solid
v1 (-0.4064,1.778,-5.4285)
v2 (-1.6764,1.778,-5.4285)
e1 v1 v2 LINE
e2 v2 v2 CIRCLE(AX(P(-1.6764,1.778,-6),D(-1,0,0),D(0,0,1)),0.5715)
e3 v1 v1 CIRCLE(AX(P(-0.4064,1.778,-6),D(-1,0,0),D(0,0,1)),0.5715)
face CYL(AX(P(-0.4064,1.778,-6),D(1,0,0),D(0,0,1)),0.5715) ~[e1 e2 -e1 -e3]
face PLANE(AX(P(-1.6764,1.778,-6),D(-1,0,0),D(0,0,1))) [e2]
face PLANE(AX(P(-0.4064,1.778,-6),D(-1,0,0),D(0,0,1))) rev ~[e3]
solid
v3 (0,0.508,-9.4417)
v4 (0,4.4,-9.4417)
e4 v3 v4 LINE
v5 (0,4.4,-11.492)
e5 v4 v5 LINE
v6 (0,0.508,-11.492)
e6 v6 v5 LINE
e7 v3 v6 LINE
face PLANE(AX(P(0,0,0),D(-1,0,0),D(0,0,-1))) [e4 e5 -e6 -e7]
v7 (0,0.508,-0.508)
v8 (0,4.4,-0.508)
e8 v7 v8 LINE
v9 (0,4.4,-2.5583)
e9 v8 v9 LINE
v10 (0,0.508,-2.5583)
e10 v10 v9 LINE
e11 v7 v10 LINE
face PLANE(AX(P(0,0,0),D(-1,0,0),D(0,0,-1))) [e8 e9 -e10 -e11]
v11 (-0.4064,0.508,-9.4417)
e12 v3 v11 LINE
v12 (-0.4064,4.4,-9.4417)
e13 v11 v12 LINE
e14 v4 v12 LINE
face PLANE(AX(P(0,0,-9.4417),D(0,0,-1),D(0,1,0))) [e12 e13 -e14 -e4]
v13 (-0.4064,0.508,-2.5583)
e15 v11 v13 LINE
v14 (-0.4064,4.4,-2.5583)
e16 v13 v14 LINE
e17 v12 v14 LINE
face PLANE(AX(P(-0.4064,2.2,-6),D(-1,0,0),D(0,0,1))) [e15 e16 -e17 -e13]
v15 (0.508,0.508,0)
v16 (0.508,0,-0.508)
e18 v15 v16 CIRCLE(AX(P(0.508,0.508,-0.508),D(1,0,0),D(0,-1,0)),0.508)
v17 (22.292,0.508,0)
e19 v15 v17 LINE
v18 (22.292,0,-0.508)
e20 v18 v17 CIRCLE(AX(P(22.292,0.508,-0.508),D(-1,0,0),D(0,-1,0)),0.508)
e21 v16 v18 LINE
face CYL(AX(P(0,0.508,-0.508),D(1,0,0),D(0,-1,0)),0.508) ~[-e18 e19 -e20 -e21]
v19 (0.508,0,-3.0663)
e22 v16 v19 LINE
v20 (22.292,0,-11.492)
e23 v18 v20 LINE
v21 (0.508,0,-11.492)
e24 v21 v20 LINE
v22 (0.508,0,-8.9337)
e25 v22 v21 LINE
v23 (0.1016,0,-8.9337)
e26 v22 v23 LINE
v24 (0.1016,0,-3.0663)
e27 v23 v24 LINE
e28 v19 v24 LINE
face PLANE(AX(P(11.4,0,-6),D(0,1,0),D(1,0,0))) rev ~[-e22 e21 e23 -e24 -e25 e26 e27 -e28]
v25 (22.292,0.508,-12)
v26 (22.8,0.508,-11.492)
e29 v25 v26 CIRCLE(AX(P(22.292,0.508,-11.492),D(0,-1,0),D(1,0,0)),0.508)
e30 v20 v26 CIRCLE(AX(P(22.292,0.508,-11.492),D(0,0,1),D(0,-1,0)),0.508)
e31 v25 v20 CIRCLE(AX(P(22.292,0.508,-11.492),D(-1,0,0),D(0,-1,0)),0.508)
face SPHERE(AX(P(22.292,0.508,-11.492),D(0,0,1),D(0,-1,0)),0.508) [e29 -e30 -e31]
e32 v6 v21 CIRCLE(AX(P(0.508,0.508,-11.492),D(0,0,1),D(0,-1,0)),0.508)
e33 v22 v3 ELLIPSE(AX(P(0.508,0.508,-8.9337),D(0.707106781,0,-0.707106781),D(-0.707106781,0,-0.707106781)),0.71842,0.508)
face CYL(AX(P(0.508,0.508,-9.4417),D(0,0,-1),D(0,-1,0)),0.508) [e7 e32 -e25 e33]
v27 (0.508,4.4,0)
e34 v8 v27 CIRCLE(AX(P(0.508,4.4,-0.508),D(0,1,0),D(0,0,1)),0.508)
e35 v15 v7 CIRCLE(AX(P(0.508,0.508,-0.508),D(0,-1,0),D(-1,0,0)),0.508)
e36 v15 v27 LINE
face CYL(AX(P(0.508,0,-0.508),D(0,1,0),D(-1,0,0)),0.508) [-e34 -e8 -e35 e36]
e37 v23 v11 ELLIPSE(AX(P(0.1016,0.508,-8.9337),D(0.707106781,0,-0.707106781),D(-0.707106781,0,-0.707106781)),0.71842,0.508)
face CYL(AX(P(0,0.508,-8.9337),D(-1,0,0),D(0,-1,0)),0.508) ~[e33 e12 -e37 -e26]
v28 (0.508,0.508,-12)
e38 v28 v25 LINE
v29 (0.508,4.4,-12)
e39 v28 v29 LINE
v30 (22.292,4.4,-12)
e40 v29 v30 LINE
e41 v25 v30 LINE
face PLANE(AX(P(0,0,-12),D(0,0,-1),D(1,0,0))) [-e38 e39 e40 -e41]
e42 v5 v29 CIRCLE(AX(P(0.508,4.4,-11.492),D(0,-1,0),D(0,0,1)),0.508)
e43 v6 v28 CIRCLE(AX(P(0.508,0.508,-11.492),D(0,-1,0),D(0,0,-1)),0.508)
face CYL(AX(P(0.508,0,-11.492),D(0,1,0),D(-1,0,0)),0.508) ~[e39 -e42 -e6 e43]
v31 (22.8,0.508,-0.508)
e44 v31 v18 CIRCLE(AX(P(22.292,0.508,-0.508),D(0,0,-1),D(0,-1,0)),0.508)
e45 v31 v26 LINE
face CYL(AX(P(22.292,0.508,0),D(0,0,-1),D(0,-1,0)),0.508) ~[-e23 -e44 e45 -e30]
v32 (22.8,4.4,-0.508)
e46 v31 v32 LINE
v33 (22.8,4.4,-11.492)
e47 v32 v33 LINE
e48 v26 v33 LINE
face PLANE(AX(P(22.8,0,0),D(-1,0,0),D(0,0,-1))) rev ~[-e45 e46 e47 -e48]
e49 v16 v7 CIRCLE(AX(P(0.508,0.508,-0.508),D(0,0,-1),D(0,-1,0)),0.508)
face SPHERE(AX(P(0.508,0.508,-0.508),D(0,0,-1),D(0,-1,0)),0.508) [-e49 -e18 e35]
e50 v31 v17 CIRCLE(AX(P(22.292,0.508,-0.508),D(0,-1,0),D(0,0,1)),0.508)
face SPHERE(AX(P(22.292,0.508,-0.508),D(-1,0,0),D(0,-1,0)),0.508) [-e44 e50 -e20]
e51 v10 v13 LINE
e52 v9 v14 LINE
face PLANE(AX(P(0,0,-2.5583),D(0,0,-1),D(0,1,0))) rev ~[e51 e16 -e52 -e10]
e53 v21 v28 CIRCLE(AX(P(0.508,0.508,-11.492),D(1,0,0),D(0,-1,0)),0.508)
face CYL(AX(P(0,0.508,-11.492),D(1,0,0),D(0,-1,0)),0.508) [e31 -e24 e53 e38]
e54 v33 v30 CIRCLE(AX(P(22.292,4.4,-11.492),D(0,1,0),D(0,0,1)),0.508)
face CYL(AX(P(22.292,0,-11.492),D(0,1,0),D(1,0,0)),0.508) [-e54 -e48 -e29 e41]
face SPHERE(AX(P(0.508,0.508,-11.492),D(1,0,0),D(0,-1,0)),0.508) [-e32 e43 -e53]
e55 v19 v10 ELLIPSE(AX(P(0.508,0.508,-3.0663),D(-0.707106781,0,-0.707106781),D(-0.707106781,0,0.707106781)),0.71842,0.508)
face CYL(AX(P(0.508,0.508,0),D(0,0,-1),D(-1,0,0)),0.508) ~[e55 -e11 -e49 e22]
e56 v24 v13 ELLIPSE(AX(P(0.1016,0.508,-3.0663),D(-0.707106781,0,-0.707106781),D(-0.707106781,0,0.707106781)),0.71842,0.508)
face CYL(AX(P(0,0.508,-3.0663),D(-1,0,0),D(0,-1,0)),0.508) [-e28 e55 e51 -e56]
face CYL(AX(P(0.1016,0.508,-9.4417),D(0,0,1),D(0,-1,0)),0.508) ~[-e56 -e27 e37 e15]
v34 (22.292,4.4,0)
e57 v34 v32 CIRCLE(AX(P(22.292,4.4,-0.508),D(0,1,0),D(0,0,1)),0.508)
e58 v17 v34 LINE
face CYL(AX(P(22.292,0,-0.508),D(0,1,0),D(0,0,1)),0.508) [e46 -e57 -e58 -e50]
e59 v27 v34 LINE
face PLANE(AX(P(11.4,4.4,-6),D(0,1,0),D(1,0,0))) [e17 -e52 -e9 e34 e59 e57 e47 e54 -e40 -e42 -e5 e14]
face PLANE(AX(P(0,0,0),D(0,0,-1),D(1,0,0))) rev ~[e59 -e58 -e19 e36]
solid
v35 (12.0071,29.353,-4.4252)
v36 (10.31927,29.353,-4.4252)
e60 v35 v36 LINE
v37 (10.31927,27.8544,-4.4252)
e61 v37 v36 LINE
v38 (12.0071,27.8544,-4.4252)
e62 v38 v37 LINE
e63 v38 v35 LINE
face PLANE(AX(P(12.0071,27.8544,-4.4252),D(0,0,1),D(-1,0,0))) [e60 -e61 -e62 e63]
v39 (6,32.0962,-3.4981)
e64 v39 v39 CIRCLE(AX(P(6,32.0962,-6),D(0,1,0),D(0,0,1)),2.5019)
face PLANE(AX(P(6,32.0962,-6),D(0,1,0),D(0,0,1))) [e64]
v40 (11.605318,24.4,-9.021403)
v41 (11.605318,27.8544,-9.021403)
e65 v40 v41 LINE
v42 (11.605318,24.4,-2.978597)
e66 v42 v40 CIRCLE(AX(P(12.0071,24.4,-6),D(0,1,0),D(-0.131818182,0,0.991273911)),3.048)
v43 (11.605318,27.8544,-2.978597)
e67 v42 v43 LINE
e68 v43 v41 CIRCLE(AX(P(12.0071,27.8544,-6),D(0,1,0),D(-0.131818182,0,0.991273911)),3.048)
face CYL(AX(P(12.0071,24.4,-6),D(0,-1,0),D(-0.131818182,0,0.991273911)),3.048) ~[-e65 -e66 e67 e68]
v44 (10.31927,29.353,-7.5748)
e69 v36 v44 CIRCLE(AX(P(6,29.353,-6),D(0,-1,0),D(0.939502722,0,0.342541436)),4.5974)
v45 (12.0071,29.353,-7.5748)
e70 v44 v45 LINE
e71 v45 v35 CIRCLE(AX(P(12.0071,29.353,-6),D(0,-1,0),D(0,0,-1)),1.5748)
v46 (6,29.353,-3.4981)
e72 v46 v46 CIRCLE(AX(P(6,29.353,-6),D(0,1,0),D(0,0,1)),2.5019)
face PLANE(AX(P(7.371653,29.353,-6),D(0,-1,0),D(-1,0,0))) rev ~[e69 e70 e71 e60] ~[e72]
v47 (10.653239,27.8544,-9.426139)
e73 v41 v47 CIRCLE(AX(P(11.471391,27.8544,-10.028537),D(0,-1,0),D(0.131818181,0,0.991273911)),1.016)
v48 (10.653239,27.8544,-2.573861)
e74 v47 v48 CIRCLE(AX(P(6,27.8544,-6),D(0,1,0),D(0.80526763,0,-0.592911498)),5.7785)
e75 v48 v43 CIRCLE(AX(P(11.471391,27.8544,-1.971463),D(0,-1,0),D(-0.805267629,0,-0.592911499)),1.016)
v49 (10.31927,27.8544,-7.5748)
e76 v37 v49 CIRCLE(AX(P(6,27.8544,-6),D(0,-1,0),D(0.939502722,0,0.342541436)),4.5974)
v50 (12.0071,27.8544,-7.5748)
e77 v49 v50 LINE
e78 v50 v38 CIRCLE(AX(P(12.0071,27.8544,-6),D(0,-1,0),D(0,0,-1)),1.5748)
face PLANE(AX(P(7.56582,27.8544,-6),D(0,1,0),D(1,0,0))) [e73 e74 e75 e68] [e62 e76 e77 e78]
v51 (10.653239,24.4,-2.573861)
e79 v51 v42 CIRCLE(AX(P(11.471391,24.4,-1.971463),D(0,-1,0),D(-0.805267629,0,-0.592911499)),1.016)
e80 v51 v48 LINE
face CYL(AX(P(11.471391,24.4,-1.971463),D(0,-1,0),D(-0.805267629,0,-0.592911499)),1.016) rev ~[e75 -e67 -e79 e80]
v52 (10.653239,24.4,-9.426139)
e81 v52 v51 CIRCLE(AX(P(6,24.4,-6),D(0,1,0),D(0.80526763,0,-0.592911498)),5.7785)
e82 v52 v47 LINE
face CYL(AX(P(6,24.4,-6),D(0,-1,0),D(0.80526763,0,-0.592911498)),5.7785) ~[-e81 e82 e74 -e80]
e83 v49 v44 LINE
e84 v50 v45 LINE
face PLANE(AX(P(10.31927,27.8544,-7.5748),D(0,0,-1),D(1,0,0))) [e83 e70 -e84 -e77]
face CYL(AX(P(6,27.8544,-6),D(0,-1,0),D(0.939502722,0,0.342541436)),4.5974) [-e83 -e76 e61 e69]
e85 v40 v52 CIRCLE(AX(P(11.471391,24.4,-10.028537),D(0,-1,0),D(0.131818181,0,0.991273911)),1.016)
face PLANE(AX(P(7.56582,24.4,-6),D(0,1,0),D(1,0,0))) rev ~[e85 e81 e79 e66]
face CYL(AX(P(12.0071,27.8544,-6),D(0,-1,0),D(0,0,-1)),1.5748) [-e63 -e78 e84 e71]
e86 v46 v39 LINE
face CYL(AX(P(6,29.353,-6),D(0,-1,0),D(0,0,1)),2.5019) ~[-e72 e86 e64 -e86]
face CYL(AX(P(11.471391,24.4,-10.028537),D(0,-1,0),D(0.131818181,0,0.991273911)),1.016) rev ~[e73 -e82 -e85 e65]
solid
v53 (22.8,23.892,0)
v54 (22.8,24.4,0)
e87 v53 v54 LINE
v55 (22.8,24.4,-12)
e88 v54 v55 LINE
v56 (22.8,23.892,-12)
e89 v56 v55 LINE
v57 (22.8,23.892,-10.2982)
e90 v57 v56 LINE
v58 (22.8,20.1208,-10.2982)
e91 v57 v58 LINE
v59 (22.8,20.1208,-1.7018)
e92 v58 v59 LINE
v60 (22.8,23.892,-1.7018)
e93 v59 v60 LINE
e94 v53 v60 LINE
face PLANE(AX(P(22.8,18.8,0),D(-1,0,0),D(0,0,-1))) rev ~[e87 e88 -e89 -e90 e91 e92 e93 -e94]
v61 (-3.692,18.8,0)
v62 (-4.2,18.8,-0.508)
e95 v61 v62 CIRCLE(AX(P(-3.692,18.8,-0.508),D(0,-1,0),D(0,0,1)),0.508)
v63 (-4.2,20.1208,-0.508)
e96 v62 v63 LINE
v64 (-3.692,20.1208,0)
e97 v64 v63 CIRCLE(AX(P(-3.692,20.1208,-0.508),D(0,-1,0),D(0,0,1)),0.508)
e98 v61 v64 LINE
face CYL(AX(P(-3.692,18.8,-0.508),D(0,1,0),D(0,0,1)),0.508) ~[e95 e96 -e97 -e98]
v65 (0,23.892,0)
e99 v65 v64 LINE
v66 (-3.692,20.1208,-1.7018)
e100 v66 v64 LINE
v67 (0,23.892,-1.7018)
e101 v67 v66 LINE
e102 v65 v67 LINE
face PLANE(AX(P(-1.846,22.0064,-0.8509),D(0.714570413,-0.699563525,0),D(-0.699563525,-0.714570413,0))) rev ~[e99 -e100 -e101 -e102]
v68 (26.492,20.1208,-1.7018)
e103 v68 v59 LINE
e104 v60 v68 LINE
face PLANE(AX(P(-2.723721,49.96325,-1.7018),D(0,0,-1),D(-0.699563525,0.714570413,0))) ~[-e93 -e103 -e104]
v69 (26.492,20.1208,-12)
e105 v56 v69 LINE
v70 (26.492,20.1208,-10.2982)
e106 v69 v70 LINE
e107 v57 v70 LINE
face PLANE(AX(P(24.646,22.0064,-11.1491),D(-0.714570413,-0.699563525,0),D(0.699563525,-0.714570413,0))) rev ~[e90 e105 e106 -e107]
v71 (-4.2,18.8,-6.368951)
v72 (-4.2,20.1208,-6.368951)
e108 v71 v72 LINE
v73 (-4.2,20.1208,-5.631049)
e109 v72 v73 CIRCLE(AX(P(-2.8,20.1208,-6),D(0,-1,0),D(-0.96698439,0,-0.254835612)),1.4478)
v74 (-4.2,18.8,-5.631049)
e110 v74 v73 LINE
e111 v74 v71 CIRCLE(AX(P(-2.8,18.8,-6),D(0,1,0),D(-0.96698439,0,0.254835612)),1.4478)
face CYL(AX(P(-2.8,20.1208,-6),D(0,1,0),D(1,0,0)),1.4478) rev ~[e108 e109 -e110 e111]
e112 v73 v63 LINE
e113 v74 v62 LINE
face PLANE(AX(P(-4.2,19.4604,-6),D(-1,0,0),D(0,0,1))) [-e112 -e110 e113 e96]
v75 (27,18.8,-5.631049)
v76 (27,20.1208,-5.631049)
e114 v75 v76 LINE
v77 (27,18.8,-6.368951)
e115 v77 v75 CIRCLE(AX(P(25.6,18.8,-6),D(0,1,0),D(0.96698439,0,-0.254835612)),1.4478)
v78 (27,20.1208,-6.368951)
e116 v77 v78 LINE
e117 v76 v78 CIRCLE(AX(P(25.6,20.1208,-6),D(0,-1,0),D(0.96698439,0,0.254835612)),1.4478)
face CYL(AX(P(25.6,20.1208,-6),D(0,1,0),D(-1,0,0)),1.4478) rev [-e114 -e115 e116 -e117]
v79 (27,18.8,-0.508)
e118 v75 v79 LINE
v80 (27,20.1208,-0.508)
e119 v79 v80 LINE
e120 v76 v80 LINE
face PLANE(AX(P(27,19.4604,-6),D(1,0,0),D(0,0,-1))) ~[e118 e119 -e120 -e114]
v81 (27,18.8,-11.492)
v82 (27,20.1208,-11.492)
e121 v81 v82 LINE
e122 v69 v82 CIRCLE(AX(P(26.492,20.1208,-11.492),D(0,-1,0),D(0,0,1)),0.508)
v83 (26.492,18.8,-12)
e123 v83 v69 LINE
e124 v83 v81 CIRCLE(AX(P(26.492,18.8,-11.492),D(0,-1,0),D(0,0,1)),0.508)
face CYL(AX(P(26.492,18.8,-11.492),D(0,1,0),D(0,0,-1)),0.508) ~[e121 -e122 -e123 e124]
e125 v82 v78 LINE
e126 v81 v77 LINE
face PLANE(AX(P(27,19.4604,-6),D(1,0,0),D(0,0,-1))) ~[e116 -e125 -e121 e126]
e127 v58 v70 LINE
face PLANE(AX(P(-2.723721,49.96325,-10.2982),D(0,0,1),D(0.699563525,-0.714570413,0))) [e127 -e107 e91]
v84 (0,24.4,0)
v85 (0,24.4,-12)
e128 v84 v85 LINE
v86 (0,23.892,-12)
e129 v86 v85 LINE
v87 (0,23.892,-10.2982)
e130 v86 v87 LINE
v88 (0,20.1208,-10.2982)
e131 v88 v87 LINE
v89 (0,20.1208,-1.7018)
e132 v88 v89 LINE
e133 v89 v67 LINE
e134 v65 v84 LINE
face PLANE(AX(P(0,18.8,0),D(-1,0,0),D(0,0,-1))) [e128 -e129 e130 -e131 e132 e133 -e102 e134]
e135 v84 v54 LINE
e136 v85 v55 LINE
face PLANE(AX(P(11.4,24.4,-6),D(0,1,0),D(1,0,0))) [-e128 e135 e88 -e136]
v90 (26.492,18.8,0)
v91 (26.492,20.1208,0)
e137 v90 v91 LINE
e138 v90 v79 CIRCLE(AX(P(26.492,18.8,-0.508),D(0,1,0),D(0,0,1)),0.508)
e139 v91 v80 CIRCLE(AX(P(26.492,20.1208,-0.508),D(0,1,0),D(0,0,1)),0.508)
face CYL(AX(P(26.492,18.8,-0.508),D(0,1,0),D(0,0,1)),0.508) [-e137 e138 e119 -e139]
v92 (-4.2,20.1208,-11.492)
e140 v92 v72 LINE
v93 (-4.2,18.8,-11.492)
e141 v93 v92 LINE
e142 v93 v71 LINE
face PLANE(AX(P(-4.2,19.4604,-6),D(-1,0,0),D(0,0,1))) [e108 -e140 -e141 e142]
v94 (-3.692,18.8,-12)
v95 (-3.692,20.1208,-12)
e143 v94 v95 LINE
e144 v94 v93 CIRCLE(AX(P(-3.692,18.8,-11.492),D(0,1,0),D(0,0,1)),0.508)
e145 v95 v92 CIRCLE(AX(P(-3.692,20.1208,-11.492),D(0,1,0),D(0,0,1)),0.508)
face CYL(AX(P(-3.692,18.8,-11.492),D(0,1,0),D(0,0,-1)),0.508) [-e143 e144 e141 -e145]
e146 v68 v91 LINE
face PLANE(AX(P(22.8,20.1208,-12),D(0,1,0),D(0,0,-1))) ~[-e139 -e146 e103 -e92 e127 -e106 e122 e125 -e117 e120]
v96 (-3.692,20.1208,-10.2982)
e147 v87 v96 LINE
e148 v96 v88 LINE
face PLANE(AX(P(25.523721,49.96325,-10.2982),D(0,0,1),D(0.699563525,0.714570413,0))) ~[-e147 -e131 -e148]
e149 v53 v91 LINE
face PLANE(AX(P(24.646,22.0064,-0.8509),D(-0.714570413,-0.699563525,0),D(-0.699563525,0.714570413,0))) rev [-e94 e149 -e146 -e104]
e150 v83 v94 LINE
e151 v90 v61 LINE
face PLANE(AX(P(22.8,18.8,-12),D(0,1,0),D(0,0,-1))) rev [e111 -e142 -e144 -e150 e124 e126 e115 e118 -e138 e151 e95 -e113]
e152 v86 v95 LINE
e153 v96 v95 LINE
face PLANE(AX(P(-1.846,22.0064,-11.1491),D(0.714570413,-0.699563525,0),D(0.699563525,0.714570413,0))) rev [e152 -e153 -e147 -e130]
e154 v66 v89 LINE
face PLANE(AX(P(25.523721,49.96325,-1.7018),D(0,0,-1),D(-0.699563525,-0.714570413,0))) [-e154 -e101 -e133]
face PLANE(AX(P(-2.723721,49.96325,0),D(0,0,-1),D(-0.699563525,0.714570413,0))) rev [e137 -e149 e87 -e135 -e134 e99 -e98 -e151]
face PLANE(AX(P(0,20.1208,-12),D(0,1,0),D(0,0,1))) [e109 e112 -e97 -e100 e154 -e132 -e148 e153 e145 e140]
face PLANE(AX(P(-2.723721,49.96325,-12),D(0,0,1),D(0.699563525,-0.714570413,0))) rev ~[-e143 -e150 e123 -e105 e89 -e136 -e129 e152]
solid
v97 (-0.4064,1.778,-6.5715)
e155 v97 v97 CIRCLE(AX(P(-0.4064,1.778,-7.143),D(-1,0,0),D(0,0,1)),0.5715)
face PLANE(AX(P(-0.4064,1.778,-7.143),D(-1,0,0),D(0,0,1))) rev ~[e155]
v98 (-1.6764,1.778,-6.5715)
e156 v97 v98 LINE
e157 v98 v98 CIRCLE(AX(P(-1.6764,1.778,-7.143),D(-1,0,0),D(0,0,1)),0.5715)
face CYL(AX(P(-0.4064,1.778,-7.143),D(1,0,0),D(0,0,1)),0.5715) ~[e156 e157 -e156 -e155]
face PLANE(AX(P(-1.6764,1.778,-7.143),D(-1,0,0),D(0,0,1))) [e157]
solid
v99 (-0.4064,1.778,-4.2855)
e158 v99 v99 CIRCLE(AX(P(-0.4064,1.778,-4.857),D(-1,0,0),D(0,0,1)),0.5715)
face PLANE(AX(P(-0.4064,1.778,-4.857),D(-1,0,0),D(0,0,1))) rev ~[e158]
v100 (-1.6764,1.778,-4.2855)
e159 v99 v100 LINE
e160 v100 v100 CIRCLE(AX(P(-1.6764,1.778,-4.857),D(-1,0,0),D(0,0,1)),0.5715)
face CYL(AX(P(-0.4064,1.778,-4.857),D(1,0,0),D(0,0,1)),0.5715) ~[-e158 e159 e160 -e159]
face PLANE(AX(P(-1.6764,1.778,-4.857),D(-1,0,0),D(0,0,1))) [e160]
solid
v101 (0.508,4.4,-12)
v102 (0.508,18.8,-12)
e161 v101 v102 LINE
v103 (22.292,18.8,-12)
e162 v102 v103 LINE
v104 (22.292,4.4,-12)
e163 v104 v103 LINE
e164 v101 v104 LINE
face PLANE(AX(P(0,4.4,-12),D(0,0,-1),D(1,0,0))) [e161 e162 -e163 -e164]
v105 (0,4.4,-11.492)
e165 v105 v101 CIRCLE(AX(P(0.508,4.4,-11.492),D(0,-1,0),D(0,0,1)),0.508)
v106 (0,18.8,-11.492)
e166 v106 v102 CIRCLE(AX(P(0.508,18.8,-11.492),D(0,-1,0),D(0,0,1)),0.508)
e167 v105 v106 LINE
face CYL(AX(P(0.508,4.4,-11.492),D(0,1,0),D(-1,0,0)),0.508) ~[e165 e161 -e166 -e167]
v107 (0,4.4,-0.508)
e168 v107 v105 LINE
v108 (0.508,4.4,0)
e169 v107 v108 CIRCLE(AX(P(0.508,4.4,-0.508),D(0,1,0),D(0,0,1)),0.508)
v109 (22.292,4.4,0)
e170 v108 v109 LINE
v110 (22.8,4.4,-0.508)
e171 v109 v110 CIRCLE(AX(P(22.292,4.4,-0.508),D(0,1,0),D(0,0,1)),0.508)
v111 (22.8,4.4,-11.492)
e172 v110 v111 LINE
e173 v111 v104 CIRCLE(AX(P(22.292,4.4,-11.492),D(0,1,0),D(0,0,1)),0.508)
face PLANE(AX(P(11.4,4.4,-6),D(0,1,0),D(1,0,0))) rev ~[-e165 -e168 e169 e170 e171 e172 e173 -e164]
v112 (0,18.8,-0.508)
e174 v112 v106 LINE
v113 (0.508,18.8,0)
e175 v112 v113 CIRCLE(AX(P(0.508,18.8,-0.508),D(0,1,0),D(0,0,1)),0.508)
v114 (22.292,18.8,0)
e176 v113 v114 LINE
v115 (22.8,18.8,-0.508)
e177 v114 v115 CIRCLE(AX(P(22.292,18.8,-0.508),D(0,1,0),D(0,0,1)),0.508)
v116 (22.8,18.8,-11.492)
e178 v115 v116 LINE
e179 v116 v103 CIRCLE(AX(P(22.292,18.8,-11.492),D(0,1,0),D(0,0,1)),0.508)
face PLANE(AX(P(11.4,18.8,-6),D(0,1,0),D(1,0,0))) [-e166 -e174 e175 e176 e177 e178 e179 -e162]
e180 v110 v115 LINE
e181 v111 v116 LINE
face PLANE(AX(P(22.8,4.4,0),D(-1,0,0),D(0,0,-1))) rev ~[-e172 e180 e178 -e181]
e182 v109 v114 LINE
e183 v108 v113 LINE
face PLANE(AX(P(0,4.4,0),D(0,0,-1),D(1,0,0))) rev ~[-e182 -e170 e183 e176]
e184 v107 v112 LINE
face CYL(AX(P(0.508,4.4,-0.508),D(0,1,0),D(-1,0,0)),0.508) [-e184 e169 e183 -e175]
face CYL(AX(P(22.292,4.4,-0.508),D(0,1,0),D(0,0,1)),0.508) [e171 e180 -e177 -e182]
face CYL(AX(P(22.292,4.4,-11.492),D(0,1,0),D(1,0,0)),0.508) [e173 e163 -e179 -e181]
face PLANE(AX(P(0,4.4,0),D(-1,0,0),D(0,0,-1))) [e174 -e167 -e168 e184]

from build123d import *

# Parameters (mm, degrees)
SKETCH1_W               = 22.8
SKETCH1_H               = 12
BOSS_EXTRUDE1_DEPTH     = 4.4
SKETCH2_W               = 22.8
SKETCH2_H               = 12
BOSS_EXTRUDE4_DEPTH     = 14.4
SKETCH5_W               = 22.8
SKETCH5_H               = 12
BOSS_EXTRUDE6_DEPTH     = 5.6
SKETCH7_W               = 12
SKETCH7_H               = 1.3208
BOSS_EXTRUDE9_DEPTH     = 4.2
RIB7_REACH              = 37.485
SKETCH9_WALL_W          = 78.247992846
SKETCH9_WALL_H          = 1.7018
SKETCH10_R              = 1.4478
CUT_EXTRUDE1_DEPTH      = 1.3208
MIRROR2_COPY_1_REACH    = 37.485
MIRROR2_COPY_1_SKETCH_W = 78.247992846
MIRROR2_COPY_1_SKETCH_H = 1.7018
BOSS_EXTRUDE10_DEPTH    = 3.4544
FILLET1_R               = 0.508
FILLET3_R               = 0.508
BOSS_EXTRUDE11_DEPTH    = 1.4986
SKETCH13_R              = 2.5019
BOSS_EXTRUDE12_DEPTH    = 2.7432
SKETCH14_W              = 6.8834
SKETCH14_H              = 4.4
BOSS_EXTRUDE14_DEPTH    = 0.4064
SKETCH15_R              = 0.5715
BOSS_EXTRUDE15_DEPTH    = 1.27
BOSS_EXTRUDE15_2_DEPTH  = 1.27
BOSS_EXTRUDE15_3_DEPTH  = 1.27
FILLET4_R               = 0.508


with BuildPart() as part:
    # Sketch1 → Boss-Extrude1 (new body)
    with BuildSketch(Plane(origin=(0, 0, 0), x_dir=(1, 0, 0), z_dir=(0, 1, 0))):
        with Locations((11.4, 6)):
            Rectangle(SKETCH1_W, SKETCH1_H)
    extrude(amount=BOSS_EXTRUDE1_DEPTH)

    # Sketch14 → Boss-Extrude14 (add)
    with BuildSketch(Plane.ZY):
        with Locations((-6, 2.2)):
            Rectangle(SKETCH14_W, SKETCH14_H)
    extrude(amount=BOSS_EXTRUDE14_DEPTH)

    # Fillet4
    fillet4_edges = [part.edges().sort_by_distance(p)[0] for p in [
        (-0.2032, 0, -9.4417),
        (-0.4064, 0, -6),
        (-0.2032, 0, -2.5583),
        (0, 0, -1.27915),
        (11.4, 0, 0),
        (22.8, 0, -6),
        (11.4, 0, -12),
        (0, 0, -10.72085),
        (0, 2.2, 0),
        (22.8, 2.2, 0),
        (22.8, 2.2, -12),
        (0, 2.2, -12),
    ]]
    fillet(fillet4_edges, radius=FILLET4_R)


with BuildPart() as body_2:
    # Sketch2 → Boss-Extrude4 (new body)
    with BuildSketch(Plane(origin=(0, 4.4, 0), x_dir=(1, 0, 0), z_dir=(0, 1, 0))):
        with Locations((11.4, 6)):
            Rectangle(SKETCH2_W, SKETCH2_H)
    extrude(amount=BOSS_EXTRUDE4_DEPTH)

    # Fillet1
    fillet1_edges = [body_2.edges().sort_by_distance(p)[0] for p in [
        (0, 11.6, -12),
        (22.8, 11.6, -12),
        (22.8, 11.6, 0),
        (0, 11.6, 0),
    ]]
    fillet(fillet1_edges, radius=FILLET1_R)


with BuildPart() as body_3:
    # Sketch5 → Boss-Extrude6 (new body)
    with BuildSketch(Plane(origin=(0, 18.8, 0), x_dir=(1, 0, 0), z_dir=(0, 1, 0))):
        with Locations((11.4, 6)):
            Rectangle(SKETCH5_W, SKETCH5_H)
    extrude(amount=BOSS_EXTRUDE6_DEPTH)

    # Sketch7 → Boss-Extrude9 (add)
    with BuildSketch(Plane.ZY):
        with Locations((-6, 19.4604)):
            Rectangle(SKETCH7_W, SKETCH7_H)
    boss_extrude9 = extrude(amount=BOSS_EXTRUDE9_DEPTH)

    # Sketch9 wall → Rib7 (add, up to next)
    with BuildSketch(Plane(origin=(-1.846, 22.0064, 0), x_dir=(-0.699563524682, -0.71457041286, 0), z_dir=(0.71457041286, -0.699563524682, 0)), mode=Mode.PRIVATE) as rib7_sk1:
        with Locations((0, 0.8509)):
            Rectangle(SKETCH9_WALL_W, SKETCH9_WALL_H)
    rib7_tool1 = extrude(rib7_sk1.sketch, amount=RIB7_REACH, mode=Mode.PRIVATE) - body_3.part
    rib7 = rib7_tool1.solids().sort_by_distance((-1.846, 22.0064, 0))[0]
    add(rib7)

    # Mirror1: Rib7 across plane
    add(rib7.mirror(Plane(origin=(0, 0, -6), x_dir=(1, 0, 0), z_dir=(0, 0, -1))))

    # Sketch10 → Cut-Extrude1 (cut)
    with BuildSketch(Plane(origin=(0, 20.1208, 0), x_dir=(1, 0, 0), z_dir=(0, 1, 0))):
        with Locations((-2.8, 6)):
            Circle(SKETCH10_R)
    cut_extrude1 = extrude(amount=-CUT_EXTRUDE1_DEPTH, mode=Mode.SUBTRACT)

    # Mirror2: Boss-Extrude9, Rib7, Cut-Extrude1 across plane
    add(boss_extrude9.mirror(Plane.ZY.offset(-11.4)))
    add(rib7.mirror(Plane.ZY.offset(-11.4)))
    add(cut_extrude1.mirror(Plane.ZY.offset(-11.4)), mode=Mode.SUBTRACT)

    # Mirror2 copy 1 sketch → Mirror2 copy 1 (add, up to next)
    with BuildSketch(Plane(origin=(24.646, 22.0064, -12), x_dir=(0.699563524682, -0.71457041286, 0), z_dir=(-0.71457041286, -0.699563524682, 0)), mode=Mode.PRIVATE) as mirror2_copy_1_sk1:
        with Locations((0, 0.8509)):
            Rectangle(MIRROR2_COPY_1_SKETCH_W, MIRROR2_COPY_1_SKETCH_H)
    mirror2_copy_1_tool1 = extrude(mirror2_copy_1_sk1.sketch, amount=MIRROR2_COPY_1_REACH, mode=Mode.PRIVATE) - body_3.part
    add(mirror2_copy_1_tool1.solids().sort_by_distance((24.646, 22.0064, -12))[0])

    # Fillet3
    fillet3_edges = [body_3.edges().sort_by_distance(p)[0] for p in [
        (-4.2, 19.4604, 0),
        (-4.2, 19.4604, -12),
        (27, 19.4604, -12),
        (27, 19.4604, 0),
    ]]
    fillet(fillet3_edges, radius=FILLET3_R)


with BuildPart() as body_4:
    # Sketch11 → Boss-Extrude10 (new body)
    with BuildSketch(Plane(origin=(0, 24.4, 0), x_dir=(1, 0, 0), z_dir=(0, 1, 0))):
        with BuildLine():
            ThreePointArc((10.653238997, 9.426139093), (0.2215, 6), (10.653238997, 2.573860907))
            ThreePointArc((10.653238997, 2.573860907), (11.073906709, 2.906482777), (11.605318182, 2.978597119))
            ThreePointArc((11.605318182, 2.978597119), (15.0551, 6), (11.605318182, 9.021402881))
            ThreePointArc((11.605318182, 9.021402881), (11.073906709, 9.093517223), (10.653238997, 9.426139093))
        make_face()
    extrude(amount=BOSS_EXTRUDE10_DEPTH)

    # Sketch12 → Boss-Extrude11 (add)
    with BuildSketch(Plane(origin=(0, 27.8544, 0), x_dir=(1, 0, 0), z_dir=(0, 1, 0))):
        with BuildLine():
            Line((12.0071, 4.4252), (10.319269813, 4.4252))
            ThreePointArc((10.319269813, 4.4252), (1.4026, 6), (10.319269813, 7.5748))
            Line((10.319269813, 7.5748), (12.0071, 7.5748))
            ThreePointArc((12.0071, 7.5748), (13.5819, 6), (12.0071, 4.4252))
        make_face()
    extrude(amount=BOSS_EXTRUDE11_DEPTH)

    # Sketch13 → Boss-Extrude12 (add)
    with BuildSketch(Plane(origin=(0, 29.353, 0), x_dir=(1, 0, 0), z_dir=(0, 1, 0))):
        with Locations(Location((6, 6, 0), (0, 0, 270))):
            Circle(SKETCH13_R)
    extrude(amount=BOSS_EXTRUDE12_DEPTH)


with BuildPart() as body_5:
    # Sketch15 → Boss-Extrude15 (new body)
    with BuildSketch(Plane.ZY.offset(0.4064)):
        with Locations((-6, 1.778)):
            Circle(SKETCH15_R)
    extrude(amount=BOSS_EXTRUDE15_DEPTH)


with BuildPart() as body_6:
    # Sketch15 → Boss-Extrude15 2 (new body)
    with BuildSketch(Plane.ZY.offset(0.4064)):
        with Locations((-4.857, 1.778)):
            Circle(SKETCH15_R)
    extrude(amount=BOSS_EXTRUDE15_2_DEPTH)


with BuildPart() as body_7:
    # Sketch15 → Boss-Extrude15 3 (new body)
    with BuildSketch(Plane.ZY.offset(0.4064)):
        with Locations((-7.143, 1.778)):
            Circle(SKETCH15_R)
    extrude(amount=BOSS_EXTRUDE15_3_DEPTH)


solid = Compound([part.part, body_2.part, body_3.part, body_4.part, body_5.part, body_6.part, body_7.part])
